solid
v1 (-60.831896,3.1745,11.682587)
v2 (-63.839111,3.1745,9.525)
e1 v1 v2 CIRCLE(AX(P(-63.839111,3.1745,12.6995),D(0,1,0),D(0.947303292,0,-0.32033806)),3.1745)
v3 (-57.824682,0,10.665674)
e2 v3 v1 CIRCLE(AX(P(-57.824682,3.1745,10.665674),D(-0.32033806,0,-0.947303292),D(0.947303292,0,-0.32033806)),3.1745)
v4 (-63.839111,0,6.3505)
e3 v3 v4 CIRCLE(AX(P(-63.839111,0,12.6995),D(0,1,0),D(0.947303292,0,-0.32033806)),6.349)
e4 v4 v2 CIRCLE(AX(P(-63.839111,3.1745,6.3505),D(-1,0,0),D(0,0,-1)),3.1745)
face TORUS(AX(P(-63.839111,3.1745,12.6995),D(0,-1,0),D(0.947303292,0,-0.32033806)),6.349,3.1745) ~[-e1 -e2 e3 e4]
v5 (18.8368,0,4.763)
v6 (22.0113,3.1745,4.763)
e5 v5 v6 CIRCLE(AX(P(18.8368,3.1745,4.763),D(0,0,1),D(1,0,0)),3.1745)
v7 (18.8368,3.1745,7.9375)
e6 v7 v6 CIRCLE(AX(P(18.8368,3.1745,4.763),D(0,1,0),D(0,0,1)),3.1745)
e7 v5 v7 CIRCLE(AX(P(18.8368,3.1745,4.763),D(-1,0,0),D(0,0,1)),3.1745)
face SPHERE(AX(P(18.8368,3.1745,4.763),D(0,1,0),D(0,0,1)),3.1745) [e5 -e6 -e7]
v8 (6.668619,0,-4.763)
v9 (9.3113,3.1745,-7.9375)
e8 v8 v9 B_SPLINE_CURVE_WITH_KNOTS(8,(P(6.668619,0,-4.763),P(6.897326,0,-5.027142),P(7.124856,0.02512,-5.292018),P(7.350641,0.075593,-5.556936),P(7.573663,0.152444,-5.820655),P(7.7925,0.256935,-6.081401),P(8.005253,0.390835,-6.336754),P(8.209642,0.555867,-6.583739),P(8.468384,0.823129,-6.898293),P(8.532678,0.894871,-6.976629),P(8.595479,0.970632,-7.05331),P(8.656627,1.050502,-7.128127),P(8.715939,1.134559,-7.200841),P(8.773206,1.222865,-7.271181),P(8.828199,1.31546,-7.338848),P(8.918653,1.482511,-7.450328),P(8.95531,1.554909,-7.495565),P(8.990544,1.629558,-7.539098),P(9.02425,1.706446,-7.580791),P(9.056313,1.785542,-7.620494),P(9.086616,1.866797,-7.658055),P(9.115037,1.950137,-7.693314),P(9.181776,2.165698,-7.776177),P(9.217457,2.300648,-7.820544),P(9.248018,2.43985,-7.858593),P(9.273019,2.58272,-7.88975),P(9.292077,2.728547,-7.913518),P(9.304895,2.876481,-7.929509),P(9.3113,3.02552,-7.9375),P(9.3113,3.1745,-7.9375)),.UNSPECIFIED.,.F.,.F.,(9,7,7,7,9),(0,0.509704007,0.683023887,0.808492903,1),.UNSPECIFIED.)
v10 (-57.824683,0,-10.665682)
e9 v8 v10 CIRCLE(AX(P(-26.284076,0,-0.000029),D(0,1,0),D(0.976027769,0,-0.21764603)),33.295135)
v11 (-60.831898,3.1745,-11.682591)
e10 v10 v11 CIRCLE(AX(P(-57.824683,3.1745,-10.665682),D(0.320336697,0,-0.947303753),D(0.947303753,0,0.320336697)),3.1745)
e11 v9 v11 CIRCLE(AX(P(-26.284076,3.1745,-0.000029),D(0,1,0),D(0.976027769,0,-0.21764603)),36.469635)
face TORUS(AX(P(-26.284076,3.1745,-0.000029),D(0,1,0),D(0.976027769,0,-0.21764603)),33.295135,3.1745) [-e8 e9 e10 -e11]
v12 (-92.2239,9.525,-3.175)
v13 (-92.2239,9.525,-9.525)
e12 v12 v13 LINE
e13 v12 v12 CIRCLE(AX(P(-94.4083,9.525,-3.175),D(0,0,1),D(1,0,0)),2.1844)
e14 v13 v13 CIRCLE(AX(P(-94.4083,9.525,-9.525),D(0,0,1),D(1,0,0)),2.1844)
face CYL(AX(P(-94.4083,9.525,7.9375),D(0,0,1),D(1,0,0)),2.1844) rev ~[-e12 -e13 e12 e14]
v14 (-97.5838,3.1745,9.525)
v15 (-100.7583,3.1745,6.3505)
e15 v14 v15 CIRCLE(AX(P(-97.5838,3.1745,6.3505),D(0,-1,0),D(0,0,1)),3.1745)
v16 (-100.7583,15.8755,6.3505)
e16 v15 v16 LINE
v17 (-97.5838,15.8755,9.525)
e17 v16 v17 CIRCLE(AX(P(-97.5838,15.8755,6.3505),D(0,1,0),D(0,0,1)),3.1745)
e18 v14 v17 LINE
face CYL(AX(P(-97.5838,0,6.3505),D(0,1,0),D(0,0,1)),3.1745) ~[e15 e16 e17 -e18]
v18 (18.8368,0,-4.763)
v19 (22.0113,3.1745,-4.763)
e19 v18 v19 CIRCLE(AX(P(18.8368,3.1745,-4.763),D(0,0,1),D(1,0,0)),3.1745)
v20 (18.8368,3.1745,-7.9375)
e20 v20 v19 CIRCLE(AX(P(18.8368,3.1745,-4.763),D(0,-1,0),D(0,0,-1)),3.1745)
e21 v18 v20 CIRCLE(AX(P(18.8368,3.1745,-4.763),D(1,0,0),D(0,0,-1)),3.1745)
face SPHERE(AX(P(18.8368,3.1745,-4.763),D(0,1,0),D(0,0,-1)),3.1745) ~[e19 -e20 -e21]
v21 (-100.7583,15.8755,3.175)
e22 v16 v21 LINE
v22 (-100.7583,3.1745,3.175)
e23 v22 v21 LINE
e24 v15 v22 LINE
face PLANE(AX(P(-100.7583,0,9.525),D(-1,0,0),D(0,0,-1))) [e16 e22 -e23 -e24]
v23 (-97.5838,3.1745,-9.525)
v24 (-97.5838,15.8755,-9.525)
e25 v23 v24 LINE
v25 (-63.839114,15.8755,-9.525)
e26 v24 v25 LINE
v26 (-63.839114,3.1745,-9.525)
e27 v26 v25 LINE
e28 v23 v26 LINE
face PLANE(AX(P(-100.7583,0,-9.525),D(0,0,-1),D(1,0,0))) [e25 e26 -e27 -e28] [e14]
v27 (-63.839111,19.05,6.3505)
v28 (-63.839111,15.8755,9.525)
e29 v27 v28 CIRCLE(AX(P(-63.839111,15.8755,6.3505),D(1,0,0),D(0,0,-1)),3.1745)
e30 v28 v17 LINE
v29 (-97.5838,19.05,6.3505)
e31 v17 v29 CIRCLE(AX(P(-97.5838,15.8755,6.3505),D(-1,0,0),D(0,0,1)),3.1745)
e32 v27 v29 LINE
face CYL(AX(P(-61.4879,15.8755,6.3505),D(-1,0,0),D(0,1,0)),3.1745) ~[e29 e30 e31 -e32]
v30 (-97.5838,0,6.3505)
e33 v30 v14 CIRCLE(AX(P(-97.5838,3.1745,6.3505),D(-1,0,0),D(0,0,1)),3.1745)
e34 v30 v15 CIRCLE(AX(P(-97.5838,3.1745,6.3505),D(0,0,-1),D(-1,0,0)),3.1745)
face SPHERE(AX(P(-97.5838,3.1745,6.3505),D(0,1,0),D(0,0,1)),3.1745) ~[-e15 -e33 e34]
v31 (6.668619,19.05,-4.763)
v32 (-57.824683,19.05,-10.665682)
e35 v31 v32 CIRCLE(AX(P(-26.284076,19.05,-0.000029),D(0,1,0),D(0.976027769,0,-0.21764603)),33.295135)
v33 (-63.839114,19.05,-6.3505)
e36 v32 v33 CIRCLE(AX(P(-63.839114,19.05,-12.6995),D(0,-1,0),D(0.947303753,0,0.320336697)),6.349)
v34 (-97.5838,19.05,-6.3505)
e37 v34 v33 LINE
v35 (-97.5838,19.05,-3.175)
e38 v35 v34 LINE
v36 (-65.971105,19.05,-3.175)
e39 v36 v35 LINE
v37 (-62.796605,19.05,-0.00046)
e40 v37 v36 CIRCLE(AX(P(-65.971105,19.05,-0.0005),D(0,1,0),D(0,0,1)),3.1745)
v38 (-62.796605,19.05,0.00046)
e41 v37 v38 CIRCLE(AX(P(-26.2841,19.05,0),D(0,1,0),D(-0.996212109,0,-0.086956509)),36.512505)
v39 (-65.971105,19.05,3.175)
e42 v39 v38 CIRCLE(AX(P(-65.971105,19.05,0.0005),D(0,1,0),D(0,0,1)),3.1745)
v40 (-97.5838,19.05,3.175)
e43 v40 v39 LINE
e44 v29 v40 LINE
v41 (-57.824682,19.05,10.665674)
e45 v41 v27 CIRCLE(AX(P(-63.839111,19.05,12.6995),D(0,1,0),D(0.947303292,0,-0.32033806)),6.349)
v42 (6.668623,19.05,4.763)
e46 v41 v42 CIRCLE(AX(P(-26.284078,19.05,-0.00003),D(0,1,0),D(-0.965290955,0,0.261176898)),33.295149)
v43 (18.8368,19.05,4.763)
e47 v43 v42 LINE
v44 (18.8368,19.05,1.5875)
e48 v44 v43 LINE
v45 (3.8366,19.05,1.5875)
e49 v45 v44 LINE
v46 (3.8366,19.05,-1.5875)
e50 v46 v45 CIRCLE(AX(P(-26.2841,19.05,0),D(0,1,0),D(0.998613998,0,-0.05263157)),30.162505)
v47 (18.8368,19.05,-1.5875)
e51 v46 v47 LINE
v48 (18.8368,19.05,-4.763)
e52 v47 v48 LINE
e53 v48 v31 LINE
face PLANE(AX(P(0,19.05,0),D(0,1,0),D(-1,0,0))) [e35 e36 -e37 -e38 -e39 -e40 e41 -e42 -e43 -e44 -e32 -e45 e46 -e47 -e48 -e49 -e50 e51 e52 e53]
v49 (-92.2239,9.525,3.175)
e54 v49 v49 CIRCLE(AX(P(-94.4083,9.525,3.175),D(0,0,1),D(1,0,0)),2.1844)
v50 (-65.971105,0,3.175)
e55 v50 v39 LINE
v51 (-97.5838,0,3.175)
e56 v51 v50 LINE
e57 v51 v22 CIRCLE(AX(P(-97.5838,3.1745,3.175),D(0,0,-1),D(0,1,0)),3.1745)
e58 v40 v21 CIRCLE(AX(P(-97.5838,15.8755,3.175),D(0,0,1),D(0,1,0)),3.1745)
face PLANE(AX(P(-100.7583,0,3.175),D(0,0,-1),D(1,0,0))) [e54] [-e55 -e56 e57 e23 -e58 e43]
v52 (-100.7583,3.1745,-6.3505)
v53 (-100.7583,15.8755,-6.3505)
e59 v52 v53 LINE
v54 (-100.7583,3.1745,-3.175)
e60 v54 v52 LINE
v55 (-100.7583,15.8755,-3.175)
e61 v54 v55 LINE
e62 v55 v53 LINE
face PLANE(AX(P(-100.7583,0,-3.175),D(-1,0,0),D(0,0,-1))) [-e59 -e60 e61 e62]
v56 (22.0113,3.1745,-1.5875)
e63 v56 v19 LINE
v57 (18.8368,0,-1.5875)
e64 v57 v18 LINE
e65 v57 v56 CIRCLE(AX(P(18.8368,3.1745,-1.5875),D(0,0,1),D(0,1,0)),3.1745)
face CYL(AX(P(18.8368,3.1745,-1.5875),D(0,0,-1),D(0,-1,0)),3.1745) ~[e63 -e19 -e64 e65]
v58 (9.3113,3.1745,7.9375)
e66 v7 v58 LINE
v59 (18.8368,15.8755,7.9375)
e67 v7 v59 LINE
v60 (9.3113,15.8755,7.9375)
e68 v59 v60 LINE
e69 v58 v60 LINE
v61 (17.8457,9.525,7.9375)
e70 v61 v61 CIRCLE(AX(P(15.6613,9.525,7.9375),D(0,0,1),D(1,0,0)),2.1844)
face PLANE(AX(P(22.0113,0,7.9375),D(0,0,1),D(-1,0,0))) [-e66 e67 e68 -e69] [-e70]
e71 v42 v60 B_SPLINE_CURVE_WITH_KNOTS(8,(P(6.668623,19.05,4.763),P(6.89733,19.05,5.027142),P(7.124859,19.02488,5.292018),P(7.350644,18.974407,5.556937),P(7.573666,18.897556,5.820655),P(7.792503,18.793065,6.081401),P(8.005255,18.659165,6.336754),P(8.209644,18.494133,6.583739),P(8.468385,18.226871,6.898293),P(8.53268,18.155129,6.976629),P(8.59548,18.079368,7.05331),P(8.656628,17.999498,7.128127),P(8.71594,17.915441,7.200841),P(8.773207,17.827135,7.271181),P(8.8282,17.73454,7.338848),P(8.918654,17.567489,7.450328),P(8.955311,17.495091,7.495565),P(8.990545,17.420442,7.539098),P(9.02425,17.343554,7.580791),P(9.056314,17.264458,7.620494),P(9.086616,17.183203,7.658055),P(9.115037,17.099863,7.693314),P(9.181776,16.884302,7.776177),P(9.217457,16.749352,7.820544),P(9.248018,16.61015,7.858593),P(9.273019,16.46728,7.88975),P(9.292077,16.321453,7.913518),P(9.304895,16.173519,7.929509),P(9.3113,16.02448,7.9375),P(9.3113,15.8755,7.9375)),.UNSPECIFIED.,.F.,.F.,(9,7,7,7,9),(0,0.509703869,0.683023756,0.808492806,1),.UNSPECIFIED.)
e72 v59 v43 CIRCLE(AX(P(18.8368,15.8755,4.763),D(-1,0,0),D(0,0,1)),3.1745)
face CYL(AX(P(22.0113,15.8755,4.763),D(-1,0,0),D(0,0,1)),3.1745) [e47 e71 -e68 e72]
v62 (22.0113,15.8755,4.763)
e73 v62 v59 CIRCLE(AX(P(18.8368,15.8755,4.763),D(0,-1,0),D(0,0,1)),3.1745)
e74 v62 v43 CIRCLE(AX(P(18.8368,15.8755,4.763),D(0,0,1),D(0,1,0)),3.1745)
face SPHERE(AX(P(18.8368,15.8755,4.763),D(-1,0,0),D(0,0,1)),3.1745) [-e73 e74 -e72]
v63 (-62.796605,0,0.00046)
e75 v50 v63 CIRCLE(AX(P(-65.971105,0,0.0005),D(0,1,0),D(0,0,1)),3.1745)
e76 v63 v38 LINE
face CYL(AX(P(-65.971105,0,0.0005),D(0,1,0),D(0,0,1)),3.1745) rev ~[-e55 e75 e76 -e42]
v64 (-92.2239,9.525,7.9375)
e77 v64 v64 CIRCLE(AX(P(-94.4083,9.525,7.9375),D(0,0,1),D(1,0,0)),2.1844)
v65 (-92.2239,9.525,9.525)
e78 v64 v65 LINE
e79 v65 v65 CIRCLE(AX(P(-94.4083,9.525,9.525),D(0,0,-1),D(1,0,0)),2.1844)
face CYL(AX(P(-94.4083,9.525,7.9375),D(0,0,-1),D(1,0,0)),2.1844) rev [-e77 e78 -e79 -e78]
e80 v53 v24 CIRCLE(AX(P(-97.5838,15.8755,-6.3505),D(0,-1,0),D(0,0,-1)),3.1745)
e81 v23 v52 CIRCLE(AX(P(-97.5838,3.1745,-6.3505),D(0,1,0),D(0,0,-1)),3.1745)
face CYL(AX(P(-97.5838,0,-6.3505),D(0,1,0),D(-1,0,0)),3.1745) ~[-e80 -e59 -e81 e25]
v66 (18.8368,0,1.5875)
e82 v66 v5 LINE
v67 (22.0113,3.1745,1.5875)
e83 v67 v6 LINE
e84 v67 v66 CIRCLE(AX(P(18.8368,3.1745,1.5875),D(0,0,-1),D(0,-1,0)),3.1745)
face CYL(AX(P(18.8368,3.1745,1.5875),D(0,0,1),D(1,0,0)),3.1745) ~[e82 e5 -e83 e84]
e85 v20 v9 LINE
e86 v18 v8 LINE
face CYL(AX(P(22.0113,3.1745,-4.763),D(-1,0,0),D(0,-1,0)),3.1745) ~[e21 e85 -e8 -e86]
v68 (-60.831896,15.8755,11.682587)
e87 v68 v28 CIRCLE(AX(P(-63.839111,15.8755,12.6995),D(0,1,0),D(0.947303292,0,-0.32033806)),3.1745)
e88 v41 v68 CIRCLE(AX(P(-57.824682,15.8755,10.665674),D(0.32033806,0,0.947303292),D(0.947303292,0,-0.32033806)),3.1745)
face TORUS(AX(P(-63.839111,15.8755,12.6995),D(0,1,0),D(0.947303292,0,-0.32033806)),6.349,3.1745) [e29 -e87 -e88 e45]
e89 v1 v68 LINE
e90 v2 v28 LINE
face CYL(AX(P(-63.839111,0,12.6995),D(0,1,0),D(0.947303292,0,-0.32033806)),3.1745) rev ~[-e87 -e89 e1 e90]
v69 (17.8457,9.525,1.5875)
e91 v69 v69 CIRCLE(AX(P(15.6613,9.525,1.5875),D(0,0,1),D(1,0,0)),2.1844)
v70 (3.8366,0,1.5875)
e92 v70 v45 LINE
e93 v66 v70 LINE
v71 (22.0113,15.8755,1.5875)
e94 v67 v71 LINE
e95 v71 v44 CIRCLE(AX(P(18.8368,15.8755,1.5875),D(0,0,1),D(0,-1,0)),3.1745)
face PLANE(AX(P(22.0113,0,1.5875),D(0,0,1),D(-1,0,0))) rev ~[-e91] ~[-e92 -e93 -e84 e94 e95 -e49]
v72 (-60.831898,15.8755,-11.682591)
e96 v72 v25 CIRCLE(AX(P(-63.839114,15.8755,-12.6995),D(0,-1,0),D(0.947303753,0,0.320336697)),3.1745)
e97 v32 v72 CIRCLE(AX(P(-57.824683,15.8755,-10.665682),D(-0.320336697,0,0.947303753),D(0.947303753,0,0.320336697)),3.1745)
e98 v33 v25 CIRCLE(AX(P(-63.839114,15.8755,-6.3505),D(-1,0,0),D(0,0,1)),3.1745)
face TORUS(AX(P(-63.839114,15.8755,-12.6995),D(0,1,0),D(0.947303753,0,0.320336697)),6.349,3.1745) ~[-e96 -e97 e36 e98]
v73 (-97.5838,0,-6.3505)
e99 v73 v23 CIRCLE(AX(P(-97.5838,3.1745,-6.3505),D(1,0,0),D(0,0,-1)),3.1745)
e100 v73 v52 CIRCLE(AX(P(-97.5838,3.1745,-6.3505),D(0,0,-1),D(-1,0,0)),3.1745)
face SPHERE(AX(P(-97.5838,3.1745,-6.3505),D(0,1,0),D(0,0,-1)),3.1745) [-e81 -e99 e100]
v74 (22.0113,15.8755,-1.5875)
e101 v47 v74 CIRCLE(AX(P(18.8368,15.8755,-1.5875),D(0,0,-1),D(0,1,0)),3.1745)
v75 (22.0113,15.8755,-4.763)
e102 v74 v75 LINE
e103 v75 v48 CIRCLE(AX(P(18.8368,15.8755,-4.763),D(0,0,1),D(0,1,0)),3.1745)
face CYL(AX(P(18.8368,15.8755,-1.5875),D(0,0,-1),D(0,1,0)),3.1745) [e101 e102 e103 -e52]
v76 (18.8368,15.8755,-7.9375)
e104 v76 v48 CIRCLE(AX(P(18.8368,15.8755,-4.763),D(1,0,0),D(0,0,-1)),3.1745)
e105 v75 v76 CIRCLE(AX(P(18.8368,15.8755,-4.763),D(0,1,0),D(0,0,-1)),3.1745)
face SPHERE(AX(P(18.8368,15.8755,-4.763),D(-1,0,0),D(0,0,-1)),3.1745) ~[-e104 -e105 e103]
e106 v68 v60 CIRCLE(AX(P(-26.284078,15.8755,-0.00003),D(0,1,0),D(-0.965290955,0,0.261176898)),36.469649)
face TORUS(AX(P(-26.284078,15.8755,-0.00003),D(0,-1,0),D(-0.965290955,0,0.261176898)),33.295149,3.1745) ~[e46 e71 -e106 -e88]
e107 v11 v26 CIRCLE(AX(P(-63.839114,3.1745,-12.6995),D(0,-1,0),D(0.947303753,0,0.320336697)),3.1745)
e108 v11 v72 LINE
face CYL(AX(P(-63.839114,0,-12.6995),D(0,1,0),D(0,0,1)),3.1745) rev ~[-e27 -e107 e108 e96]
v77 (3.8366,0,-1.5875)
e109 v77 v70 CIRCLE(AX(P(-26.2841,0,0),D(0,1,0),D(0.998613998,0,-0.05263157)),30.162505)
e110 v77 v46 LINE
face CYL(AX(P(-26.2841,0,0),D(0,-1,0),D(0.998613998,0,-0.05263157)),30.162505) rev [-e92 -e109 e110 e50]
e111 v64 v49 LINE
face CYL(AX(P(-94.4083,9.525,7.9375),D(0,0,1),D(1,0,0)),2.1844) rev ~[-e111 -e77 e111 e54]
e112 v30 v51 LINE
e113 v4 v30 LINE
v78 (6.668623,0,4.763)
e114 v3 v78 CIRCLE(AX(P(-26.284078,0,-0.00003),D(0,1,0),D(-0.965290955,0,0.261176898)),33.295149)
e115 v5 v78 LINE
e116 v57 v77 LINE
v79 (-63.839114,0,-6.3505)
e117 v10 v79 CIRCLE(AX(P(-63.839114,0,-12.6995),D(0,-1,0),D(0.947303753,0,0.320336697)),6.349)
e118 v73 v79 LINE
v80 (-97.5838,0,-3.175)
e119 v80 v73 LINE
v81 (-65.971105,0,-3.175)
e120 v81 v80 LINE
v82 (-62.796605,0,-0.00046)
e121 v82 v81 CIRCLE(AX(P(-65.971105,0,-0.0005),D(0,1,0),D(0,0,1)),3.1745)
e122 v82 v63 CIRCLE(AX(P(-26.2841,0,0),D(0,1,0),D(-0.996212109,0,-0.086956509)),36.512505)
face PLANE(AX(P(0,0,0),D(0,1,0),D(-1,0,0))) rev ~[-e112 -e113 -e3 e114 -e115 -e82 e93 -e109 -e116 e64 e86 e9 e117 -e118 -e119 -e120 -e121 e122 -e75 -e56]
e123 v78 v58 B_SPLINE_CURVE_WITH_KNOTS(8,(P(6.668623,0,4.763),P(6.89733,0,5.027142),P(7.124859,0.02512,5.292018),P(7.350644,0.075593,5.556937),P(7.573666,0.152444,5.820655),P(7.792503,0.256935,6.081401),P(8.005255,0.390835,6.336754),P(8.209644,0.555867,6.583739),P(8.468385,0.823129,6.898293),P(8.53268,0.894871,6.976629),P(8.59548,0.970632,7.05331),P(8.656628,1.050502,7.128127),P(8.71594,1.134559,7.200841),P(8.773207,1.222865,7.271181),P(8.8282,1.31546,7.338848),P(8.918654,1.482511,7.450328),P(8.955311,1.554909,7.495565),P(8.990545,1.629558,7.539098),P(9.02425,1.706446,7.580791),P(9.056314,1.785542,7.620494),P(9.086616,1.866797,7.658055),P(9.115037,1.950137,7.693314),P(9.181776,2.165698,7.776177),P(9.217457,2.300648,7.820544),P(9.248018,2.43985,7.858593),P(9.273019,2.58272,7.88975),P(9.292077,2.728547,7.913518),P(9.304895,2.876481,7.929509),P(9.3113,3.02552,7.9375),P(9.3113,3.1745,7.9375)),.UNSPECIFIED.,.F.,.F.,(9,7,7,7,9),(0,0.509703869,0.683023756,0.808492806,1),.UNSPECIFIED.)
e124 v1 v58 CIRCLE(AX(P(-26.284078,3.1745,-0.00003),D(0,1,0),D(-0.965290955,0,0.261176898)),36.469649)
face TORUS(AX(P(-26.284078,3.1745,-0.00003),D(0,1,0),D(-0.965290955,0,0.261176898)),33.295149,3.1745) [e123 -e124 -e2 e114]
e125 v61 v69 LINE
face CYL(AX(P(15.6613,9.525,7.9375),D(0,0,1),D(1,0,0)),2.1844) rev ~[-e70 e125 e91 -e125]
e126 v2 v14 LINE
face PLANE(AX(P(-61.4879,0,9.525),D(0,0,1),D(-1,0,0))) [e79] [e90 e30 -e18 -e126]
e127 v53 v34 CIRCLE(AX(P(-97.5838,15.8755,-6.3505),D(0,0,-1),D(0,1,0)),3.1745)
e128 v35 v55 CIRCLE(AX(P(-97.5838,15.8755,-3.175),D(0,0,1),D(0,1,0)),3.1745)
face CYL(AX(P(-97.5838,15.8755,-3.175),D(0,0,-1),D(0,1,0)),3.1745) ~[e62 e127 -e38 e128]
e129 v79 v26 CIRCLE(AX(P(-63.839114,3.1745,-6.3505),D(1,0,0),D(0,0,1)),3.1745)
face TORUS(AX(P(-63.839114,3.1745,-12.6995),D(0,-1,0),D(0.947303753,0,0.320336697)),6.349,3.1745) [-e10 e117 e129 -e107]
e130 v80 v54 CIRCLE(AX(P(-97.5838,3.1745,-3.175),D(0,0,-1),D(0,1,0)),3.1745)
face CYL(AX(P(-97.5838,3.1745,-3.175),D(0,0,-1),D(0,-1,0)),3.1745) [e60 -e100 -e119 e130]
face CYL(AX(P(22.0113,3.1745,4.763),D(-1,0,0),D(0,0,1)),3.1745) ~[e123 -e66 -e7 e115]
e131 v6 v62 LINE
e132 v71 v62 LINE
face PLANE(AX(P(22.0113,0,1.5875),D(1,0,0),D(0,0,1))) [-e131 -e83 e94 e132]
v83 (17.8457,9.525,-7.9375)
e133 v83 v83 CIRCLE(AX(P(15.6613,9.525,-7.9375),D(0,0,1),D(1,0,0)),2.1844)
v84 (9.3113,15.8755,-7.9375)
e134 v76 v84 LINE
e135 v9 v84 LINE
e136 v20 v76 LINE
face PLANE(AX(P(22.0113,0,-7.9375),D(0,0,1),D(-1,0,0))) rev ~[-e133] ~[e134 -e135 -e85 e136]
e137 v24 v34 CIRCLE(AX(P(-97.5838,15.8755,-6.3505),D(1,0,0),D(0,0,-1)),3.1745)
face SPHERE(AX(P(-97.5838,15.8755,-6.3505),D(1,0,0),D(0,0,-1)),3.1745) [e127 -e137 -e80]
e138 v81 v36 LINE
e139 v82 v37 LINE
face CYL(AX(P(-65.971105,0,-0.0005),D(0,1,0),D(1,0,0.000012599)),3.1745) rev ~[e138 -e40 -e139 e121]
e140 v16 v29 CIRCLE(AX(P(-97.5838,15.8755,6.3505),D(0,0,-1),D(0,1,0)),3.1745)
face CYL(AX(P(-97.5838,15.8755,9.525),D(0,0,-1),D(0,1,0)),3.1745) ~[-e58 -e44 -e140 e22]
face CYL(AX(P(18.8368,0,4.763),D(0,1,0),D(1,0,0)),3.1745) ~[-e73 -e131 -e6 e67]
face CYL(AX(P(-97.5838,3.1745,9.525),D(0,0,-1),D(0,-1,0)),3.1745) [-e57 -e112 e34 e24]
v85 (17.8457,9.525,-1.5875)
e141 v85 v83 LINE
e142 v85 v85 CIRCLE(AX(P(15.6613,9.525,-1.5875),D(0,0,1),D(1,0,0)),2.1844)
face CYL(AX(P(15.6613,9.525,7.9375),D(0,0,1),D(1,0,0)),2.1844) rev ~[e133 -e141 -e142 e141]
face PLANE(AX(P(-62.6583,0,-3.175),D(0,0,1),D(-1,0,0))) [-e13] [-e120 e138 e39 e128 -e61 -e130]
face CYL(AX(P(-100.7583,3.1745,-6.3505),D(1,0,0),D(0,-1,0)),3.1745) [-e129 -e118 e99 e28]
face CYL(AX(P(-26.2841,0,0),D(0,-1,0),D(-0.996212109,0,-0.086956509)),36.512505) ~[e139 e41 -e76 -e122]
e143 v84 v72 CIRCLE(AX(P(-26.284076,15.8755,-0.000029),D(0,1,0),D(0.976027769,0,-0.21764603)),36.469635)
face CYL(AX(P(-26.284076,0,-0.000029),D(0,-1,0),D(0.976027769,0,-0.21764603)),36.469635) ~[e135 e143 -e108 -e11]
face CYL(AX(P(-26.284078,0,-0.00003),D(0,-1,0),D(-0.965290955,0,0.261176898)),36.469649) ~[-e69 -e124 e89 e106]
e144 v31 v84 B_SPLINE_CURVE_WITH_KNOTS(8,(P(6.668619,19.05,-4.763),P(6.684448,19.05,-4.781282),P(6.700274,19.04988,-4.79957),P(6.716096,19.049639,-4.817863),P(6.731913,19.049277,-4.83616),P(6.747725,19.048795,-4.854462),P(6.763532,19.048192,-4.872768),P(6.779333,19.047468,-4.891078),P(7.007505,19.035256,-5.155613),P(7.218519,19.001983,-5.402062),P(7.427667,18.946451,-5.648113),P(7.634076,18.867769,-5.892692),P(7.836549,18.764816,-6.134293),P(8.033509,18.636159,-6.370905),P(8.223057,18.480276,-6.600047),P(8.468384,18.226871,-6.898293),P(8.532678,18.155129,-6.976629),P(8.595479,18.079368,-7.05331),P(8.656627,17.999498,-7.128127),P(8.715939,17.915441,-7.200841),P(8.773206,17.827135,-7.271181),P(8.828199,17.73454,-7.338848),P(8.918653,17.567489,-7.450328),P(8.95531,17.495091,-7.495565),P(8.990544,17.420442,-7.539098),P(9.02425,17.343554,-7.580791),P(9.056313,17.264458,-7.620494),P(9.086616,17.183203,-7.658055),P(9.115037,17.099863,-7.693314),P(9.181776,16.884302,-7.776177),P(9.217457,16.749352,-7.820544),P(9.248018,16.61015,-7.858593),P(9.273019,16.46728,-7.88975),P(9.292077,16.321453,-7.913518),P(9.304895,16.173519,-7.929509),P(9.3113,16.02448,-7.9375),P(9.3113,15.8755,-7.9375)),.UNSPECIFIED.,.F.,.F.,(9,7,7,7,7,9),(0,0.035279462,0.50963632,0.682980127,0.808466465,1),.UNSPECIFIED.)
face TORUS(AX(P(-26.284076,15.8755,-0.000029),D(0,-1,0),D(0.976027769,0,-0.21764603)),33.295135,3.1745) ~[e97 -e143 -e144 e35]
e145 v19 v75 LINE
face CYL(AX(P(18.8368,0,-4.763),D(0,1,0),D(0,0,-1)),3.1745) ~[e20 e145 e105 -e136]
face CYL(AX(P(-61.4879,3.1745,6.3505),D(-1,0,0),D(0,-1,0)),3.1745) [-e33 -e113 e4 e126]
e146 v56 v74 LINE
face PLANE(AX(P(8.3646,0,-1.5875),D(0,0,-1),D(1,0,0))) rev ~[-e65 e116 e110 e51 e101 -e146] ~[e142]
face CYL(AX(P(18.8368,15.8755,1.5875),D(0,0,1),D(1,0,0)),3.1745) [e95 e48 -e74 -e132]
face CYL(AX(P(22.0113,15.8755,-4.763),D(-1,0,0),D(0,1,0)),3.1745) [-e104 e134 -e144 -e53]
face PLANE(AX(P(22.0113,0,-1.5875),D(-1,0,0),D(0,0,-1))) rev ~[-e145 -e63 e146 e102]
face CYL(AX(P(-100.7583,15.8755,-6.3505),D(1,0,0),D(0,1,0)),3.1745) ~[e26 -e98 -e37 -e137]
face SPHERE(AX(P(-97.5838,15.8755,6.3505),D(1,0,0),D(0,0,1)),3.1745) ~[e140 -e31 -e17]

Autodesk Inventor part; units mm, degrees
ref_plane "YZ Plane" through (0, 0, 0) normal (1, 0, 0) x (0, 1, 0)
ref_plane "XZ Plane" through (0, 0, 0) normal (0, 1, 0) x (-1, 0, 0)
ref_plane "XY Plane" through (0, 0, 0) normal (0, 0, 1) x (1, 0, 0)
sketch "Sketch1" plane through (0, 0, 0) normal (0, 1, 0) x (-1, 0, 0)
  line L0 (-22.0113, 1.5875) -> (-22.0113, 7.9375)
  line L1 (-22.0113, 7.9375) -> (-9.3113, 7.9375)
  arc A0 (-3.8366, -1.5875) -> (-3.8366, 1.5875) centre (26.2841, 0) ccw
  line L2 (-22.0113, 1.5875) -> (-8.3646, 1.5875)
  line L3 (-8.3646, -1.5875) -> (-22.0113, -1.5875)
  line L4 (-22.0113, -1.5875) -> (-22.0113, -7.9375)
  line L5 (-22.0113, -7.9375) -> (-9.3113, -7.9375)
  line L6 (61.4879, 9.525) -> (100.7583, 9.525)
  line L7 (100.7583, 9.525) -> (100.7583, 3.175)
  line L8 (100.7583, 3.175) -> (62.6583, 3.175)
  line L9 (62.6583, -3.175) -> (100.7583, -3.175)
  line L10 (100.7583, -3.175) -> (100.7583, -9.525)
  line L11 (100.7583, -9.525) -> (61.4879, -9.525)
  line L12 (-8.3646, 1.5875) -> (-3.8366, 1.5875)
  line L13 (-8.3646, -1.5875) -> (-3.8366, -1.5875)
  arc A1 (61.4879, 9.525) -> (-9.3113, 7.9375) centre (26.2841, 0) ccw
  arc A2 (-9.3113, -7.9375) -> (61.4879, -9.525) centre (26.2841, 0) ccw
  arc A3 (62.6583, -3.175) -> (62.6583, 3.175) centre (26.2841, 0) ccw
  point P0 (0, 0)
  dimension "d0" = 60.325
  dimension "d2" = 6.35
  dimension "d3" = 6.35
  dimension "d4" = 3.175
  dimension "d5" = 1.5875
  dimension "d6" = 6.35
  dimension "d7" = 6.35
  dimension "d8" = 6.35
  dimension "d9" = 3.175
  dimension "d10" = 6.35
  dimension "d11" = 38.1
  dimension "d12" = 12.7
extrude "Extrusion1" add sketch "Sketch1" along normal blind 19.05
sketch "Sketch2" plane through (9.3113, 0, 7.9375) normal (0, 0, 1) x (1, 0, 0)
  circle A0 centre (6.35, 9.525) radius 2.1844
  line L0 (0, 19.05) -> (12.7, 19.05) projected
  line L1 (12.7, 0) -> (12.7, 19.05) projected
  circle A1 centre (-103.7196, 9.525) radius 2.1844
  line L2 (-110.0696, 0) -> (-110.0696, 19.05) projected
  line L3 (-110.0696, 19.05) -> (-70.7992, 19.05) projected
  point P0 (-9.3113, 0)
  dimension "d15" = 9.525
  dimension "d16" = 6.35
  dimension "d17" = 4.3688
  dimension "d18" = 6.35
  dimension "d19" = 9.525
  dimension "d20" = 4.3688
extrude "Extrusion2" cut sketch "Sketch2" along normal mid plane 50.8
fillet "Fillet1" radius 3.175 28 edges at (-81.1231, 19.05, 9.525) (-100.7583, 9.525, 9.525) (-81.1231, 0, 9.525) (-81.1231, 19.05, -9.525) (-100.7583, 9.525, -9.525) (-81.1231, 0, -9.525) (-61.4879, 9.525, -9.525) (-61.4879, 9.525, 9.525) (-62.6583, 9.525, -3.175) (-62.6583, 9.525, 3.175) (-25.4665, 19.05, -36.4605) (-25.4665, 0, -36.4605) (-25.4665, 19.05, 36.4605) (-25.4665, 0, 36.4605) (15.6613, 19.05, 7.9375) (22.0113, 9.525, 7.9375) (15.6613, 0, 7.9375) (15.6613, 19.05, -7.9375) (22.0113, 9.525, -7.9375) (15.6613, 0, -7.9375) (22.0113, 19.05, -4.7625) (22.0113, 19.05, 4.7625) (22.0113, 0, -4.7625) (22.0113, 0, 4.7625) (-100.7583, 19.05, -6.35) (-100.7583, 19.05, 6.35) (-100.7583, 0, -6.35) (-100.7583, 0, 6.35)
properties part number "Clamp"
